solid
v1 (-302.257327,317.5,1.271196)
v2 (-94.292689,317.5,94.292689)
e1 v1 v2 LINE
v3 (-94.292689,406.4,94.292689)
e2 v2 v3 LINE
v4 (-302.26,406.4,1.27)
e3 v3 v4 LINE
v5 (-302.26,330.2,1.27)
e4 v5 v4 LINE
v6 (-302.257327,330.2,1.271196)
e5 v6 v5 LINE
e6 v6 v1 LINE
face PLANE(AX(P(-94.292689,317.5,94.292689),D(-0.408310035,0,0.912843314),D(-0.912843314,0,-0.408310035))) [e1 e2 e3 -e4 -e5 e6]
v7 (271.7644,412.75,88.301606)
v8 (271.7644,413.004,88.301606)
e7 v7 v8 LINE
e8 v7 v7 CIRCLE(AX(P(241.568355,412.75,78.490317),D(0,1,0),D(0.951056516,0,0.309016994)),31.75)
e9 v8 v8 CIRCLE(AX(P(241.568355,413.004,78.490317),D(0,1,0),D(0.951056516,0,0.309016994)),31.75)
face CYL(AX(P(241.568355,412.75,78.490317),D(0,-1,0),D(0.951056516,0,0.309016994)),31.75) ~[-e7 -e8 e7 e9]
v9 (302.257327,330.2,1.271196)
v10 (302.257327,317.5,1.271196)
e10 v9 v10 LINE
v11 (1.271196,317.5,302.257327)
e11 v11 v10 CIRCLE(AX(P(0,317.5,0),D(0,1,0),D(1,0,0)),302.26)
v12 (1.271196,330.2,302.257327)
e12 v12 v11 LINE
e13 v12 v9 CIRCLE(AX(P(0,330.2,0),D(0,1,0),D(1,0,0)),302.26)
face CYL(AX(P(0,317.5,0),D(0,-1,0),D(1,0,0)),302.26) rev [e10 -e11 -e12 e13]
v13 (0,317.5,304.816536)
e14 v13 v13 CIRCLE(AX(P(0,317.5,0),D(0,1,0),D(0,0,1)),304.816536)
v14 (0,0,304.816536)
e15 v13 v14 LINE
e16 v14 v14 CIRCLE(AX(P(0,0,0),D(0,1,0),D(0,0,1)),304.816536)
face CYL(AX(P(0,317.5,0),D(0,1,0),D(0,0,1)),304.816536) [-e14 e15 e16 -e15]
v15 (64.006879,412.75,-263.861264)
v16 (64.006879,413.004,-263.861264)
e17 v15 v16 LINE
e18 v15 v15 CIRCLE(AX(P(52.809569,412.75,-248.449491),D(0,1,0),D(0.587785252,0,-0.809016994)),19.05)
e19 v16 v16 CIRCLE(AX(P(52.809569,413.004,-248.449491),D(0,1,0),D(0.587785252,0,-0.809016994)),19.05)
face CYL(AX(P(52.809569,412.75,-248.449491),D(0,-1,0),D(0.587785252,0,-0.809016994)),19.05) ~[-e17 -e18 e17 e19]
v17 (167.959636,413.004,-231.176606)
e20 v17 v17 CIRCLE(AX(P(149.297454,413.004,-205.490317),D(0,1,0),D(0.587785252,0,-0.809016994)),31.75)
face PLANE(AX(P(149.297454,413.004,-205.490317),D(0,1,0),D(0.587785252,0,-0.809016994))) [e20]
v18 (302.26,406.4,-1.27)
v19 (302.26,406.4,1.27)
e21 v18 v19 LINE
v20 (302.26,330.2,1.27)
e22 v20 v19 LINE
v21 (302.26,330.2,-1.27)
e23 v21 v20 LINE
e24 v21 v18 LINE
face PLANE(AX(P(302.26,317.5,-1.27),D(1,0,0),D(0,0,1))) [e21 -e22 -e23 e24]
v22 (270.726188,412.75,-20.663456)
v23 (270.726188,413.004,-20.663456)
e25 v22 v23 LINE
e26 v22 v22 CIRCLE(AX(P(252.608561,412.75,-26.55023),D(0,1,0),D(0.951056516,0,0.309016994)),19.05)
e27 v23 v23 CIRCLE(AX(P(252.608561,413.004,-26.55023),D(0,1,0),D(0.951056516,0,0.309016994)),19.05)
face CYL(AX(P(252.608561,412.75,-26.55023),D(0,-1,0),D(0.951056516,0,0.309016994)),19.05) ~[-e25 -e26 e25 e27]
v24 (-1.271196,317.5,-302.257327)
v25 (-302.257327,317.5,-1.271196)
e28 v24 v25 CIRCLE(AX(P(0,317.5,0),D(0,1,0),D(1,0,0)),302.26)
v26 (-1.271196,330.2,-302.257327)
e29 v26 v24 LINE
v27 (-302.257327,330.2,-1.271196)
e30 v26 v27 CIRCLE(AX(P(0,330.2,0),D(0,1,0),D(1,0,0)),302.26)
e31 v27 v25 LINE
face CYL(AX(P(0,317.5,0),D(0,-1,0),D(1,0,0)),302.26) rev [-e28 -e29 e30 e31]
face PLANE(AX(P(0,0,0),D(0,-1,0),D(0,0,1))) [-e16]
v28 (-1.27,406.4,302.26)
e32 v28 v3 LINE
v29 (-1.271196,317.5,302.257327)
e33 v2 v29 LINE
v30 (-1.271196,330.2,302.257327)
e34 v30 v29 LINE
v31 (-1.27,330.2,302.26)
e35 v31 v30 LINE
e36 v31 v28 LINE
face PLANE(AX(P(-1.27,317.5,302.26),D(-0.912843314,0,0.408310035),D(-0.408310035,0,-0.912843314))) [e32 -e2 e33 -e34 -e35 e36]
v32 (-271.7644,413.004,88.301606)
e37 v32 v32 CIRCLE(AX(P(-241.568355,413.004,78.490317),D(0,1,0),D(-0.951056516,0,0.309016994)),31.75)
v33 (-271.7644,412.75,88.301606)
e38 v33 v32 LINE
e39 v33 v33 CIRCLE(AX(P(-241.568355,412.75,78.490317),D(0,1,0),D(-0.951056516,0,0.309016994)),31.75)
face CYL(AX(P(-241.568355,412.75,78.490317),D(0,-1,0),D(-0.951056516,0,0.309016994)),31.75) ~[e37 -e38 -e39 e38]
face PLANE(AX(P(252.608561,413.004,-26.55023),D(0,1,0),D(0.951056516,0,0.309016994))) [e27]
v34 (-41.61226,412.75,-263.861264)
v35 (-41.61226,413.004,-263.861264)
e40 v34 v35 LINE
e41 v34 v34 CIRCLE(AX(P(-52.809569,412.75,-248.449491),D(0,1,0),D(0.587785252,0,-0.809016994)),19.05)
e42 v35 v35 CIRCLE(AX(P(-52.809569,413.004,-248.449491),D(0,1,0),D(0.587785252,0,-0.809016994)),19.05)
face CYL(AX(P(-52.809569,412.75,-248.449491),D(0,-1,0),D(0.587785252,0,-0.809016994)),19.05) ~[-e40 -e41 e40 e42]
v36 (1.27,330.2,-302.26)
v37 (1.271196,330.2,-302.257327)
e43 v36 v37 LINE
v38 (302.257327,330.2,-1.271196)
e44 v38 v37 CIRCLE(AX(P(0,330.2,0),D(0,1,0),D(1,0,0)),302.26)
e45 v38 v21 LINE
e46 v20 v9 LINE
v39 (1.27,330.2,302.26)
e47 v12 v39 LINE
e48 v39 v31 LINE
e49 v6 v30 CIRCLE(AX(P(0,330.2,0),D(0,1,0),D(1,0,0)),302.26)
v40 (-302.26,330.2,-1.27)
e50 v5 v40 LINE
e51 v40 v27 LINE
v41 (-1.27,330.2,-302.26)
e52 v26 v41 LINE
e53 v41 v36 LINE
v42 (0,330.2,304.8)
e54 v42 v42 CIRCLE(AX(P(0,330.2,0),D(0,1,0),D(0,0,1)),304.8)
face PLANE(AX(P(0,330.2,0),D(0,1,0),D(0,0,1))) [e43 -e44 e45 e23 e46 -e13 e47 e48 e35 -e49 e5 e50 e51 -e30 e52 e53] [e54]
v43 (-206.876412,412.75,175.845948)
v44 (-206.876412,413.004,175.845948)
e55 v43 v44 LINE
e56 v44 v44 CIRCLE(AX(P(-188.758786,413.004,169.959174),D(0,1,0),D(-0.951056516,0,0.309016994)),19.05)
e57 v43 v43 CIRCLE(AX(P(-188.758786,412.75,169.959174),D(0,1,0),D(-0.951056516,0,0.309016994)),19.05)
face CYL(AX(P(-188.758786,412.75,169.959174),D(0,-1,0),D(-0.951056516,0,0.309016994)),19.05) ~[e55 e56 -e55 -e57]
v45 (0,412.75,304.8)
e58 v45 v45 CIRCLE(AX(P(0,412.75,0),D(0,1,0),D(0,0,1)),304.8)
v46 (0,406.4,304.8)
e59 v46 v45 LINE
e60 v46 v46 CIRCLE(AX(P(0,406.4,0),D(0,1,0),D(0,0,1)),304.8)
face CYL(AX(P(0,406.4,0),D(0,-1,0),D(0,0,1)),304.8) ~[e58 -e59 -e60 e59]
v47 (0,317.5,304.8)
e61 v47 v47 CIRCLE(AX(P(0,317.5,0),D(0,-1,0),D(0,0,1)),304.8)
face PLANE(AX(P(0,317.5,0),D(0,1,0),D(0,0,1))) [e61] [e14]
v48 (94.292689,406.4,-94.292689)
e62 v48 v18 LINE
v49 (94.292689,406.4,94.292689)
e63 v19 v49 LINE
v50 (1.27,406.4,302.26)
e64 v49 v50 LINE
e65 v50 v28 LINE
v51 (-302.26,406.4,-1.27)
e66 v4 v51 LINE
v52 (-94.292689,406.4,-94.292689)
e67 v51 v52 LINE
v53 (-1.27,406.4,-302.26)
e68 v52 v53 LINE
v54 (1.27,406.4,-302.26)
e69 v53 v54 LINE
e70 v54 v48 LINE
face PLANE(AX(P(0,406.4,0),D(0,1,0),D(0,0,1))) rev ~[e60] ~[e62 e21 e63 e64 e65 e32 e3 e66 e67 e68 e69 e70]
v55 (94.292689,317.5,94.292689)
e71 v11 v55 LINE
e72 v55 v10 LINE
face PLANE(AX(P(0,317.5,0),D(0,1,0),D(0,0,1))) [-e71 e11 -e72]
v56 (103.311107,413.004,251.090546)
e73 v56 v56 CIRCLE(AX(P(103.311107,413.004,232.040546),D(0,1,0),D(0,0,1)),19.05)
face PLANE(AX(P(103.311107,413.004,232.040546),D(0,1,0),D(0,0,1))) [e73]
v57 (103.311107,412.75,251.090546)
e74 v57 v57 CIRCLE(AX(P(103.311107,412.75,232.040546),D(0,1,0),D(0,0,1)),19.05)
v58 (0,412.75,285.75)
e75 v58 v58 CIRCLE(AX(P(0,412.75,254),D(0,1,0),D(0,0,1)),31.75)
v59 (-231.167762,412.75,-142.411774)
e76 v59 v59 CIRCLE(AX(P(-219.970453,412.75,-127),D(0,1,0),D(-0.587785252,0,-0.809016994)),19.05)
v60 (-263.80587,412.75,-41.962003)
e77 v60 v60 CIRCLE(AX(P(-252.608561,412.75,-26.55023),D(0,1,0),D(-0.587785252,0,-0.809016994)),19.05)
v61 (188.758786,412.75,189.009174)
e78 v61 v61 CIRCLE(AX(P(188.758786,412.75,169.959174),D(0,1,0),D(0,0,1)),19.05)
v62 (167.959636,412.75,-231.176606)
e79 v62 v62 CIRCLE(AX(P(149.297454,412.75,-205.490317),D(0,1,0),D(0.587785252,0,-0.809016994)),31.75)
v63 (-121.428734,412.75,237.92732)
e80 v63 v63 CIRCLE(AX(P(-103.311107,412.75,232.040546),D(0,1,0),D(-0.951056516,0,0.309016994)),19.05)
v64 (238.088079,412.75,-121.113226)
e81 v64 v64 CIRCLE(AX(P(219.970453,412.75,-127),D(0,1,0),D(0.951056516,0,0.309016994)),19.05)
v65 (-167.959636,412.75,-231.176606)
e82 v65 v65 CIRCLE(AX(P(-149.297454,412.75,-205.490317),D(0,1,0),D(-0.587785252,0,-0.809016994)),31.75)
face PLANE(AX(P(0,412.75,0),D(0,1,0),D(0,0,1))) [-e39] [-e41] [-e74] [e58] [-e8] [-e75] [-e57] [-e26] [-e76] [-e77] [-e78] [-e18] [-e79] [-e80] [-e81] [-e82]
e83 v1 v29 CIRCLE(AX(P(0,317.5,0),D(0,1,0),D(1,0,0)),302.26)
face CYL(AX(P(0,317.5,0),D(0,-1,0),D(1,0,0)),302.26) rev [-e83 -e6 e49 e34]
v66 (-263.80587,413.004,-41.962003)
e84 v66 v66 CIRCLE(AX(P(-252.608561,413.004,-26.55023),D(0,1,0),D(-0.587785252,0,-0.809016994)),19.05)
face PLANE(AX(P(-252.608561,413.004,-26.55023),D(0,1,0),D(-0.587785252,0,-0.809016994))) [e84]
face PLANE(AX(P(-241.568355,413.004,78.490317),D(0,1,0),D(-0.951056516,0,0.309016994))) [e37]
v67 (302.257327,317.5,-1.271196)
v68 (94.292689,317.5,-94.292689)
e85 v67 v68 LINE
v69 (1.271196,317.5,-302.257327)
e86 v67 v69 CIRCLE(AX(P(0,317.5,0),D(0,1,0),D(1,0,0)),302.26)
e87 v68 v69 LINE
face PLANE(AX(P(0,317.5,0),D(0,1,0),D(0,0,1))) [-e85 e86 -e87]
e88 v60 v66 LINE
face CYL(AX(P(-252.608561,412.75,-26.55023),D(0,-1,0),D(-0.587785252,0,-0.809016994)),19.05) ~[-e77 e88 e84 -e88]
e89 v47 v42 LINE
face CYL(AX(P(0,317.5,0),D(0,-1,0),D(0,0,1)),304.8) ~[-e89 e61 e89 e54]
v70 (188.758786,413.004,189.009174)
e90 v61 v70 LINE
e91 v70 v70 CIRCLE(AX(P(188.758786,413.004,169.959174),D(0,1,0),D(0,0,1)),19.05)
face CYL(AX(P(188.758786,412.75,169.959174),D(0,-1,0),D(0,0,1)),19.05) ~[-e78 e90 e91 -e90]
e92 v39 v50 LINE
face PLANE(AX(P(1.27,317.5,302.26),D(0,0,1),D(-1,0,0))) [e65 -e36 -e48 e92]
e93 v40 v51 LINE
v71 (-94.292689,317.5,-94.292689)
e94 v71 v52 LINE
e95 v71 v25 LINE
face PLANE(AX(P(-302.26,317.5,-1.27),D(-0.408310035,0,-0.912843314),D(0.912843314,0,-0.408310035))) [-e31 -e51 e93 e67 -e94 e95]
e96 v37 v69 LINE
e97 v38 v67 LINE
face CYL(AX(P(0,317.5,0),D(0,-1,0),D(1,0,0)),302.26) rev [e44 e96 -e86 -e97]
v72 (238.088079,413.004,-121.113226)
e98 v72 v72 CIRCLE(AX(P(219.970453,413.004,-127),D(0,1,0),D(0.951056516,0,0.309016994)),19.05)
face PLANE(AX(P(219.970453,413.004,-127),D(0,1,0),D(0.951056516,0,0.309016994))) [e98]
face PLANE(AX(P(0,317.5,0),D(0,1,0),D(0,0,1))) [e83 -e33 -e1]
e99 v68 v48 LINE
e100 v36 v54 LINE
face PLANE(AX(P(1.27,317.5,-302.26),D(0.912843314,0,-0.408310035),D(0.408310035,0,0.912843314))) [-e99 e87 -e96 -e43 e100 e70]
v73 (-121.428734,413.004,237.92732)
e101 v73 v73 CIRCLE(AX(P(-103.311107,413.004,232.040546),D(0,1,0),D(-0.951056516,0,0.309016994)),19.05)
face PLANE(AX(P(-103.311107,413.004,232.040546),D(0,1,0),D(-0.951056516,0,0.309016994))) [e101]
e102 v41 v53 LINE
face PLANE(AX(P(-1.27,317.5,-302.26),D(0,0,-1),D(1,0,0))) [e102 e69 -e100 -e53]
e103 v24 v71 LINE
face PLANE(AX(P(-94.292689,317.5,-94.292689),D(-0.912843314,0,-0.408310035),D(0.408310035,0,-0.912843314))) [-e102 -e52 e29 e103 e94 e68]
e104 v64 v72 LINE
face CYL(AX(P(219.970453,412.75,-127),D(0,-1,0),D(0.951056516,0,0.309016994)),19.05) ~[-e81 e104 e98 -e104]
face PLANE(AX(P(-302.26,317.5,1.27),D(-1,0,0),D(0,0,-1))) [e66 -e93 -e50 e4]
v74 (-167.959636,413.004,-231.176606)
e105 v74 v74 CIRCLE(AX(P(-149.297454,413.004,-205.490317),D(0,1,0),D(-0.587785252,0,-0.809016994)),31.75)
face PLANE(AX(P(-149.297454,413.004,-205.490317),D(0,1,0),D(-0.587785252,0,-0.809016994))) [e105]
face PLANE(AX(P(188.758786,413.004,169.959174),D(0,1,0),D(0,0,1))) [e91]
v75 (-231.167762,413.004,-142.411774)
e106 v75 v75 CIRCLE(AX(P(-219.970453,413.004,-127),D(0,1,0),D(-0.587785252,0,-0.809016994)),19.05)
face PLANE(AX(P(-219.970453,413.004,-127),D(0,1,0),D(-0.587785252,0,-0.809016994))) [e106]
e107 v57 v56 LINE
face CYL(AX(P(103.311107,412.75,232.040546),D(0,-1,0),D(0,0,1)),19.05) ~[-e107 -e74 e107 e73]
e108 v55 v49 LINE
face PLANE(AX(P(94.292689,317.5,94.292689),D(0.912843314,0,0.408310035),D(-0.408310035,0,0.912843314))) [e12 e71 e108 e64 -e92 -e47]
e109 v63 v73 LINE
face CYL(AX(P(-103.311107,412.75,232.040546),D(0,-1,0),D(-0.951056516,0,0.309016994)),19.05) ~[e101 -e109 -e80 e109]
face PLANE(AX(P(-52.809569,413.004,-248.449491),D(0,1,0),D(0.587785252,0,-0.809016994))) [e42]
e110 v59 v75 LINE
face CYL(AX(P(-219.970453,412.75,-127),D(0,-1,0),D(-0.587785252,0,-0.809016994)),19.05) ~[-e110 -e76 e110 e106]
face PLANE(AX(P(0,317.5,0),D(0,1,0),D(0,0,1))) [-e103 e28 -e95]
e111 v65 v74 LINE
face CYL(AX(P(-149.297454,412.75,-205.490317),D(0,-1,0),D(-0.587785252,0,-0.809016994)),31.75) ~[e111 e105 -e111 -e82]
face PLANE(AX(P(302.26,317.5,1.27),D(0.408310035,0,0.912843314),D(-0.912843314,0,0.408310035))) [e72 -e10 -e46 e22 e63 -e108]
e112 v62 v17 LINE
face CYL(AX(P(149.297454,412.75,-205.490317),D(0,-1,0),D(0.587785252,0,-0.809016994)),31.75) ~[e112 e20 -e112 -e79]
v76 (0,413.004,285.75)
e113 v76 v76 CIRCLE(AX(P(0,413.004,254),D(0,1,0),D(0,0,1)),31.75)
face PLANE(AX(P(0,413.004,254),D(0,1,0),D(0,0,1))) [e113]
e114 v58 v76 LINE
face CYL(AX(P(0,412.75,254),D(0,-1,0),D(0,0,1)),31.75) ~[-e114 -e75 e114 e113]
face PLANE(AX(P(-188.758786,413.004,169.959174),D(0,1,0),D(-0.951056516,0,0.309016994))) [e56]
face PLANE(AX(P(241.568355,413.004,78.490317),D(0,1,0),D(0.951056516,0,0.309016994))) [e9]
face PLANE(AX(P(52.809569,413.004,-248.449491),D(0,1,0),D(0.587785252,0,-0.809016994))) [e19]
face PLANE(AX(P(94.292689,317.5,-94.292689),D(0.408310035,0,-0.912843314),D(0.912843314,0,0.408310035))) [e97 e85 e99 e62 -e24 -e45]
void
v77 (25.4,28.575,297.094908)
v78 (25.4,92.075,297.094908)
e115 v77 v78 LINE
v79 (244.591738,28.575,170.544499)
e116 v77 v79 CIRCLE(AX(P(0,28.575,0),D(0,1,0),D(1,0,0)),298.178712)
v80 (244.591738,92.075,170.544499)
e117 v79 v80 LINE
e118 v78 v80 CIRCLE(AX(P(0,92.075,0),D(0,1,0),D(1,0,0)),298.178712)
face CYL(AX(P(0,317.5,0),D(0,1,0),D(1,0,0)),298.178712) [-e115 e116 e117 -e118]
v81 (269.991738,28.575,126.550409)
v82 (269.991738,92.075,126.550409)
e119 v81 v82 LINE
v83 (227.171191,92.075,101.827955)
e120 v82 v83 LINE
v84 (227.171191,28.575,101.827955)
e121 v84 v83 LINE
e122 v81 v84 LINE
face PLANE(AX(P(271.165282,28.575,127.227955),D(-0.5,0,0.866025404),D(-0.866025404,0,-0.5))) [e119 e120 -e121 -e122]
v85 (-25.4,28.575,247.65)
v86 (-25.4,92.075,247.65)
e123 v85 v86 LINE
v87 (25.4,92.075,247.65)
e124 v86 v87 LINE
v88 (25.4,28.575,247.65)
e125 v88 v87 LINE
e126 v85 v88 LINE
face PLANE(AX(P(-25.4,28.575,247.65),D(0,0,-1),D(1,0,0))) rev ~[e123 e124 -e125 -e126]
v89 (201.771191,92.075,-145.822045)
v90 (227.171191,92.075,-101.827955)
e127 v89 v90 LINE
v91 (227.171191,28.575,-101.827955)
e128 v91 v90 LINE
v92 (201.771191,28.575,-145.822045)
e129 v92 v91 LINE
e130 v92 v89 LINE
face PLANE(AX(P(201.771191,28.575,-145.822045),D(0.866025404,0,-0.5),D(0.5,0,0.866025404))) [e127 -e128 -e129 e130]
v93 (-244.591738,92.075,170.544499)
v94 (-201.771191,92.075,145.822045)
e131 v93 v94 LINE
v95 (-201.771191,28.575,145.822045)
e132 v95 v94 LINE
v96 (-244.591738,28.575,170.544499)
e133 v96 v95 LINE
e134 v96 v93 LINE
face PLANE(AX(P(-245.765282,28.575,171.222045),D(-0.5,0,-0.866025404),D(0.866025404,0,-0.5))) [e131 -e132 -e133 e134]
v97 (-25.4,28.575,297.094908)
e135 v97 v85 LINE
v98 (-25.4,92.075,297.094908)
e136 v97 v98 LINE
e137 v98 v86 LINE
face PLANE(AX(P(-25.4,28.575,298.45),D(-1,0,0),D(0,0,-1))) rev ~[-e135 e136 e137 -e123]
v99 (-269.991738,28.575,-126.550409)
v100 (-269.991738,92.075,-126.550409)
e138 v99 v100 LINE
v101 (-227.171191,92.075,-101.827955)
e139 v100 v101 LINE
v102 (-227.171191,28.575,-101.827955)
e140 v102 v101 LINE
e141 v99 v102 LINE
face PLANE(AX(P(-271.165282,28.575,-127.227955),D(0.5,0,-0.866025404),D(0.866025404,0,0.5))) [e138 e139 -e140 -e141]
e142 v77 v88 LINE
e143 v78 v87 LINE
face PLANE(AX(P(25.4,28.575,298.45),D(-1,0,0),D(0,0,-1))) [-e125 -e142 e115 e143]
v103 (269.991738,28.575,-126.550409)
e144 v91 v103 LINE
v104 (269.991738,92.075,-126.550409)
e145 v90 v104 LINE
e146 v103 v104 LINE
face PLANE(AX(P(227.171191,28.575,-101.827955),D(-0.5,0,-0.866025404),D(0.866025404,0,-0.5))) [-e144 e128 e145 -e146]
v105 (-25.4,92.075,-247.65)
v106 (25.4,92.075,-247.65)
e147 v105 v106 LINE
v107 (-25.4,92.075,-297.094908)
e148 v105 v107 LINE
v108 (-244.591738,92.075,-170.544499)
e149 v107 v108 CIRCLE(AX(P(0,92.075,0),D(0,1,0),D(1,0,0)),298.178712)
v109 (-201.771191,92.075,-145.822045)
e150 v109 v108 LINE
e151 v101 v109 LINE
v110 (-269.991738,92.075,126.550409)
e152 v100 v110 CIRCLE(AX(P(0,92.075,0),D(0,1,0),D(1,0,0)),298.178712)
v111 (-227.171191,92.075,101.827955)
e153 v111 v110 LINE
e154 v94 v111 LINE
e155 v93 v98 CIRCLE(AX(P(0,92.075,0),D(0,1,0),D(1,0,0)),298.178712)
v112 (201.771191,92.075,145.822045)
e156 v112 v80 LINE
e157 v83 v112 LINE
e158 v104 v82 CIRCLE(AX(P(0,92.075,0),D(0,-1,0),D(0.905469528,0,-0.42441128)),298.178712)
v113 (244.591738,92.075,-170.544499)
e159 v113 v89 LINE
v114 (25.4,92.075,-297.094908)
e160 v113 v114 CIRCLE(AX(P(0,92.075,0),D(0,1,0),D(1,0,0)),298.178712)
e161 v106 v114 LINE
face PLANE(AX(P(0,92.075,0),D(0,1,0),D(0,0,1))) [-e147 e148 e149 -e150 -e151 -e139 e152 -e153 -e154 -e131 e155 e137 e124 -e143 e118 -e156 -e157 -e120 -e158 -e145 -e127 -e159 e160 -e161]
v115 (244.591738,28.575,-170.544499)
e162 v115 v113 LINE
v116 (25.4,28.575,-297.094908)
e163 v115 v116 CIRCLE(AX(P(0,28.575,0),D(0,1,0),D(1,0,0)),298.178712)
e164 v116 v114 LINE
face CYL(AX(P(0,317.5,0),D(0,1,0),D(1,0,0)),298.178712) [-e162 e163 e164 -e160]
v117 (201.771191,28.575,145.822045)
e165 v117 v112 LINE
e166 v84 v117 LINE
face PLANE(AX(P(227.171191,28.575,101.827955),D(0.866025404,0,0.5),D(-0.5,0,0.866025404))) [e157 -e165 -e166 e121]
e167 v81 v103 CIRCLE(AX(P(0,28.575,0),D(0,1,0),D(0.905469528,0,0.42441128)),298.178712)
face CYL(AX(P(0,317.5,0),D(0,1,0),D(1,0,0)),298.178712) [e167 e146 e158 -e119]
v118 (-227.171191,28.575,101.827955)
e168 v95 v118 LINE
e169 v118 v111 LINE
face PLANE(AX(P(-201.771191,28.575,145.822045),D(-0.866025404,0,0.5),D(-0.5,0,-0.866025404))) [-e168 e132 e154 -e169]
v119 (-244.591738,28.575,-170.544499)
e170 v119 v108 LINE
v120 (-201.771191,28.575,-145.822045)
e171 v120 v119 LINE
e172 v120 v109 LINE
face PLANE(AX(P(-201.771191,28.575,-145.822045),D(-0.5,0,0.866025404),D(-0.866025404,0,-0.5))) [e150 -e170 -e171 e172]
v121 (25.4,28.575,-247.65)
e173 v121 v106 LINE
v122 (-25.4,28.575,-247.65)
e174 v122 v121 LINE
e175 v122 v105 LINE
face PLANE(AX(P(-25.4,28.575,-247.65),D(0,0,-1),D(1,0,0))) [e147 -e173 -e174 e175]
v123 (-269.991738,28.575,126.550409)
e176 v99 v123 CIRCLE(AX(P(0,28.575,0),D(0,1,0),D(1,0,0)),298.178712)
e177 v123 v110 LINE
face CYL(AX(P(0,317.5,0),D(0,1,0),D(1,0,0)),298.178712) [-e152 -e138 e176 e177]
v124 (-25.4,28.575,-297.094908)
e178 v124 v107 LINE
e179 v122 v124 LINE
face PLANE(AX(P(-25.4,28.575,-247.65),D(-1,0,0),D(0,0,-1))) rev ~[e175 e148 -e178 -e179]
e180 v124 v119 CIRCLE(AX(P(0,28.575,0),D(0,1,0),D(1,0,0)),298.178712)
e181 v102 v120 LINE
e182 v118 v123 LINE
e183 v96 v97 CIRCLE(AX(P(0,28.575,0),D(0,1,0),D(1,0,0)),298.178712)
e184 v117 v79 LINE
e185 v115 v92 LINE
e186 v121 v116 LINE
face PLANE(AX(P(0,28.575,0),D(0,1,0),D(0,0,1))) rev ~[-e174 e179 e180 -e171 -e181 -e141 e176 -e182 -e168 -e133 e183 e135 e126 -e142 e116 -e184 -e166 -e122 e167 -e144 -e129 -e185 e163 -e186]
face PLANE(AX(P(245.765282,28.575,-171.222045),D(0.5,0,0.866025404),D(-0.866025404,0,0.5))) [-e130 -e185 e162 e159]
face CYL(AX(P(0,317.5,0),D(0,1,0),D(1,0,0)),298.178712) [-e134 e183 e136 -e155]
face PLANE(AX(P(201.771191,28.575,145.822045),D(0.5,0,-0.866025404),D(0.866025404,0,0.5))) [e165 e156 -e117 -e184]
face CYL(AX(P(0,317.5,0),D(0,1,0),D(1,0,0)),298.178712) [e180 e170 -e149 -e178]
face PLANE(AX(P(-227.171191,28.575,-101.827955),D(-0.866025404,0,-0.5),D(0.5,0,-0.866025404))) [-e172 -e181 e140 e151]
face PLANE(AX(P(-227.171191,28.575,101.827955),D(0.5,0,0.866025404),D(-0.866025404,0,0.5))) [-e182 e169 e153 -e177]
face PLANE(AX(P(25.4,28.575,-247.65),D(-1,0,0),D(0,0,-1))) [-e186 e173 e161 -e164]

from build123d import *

# Parameters (mm, degrees)
SKETCH1_R            = 304.8
BOSS_EXTRUDE1_DEPTH  = 28.575
SKETCH2_W            = 50.8
SKETCH2_H            = 50.8
BOSS_EXTRUDE2_DEPTH  = 63.5
SKETCH3_R            = 304.8
BOSS_EXTRUDE3_DEPTH  = 225.425
BOSS_EXTRUDE8_DEPTH  = 88.9
SKETCH10_R           = 304.8
BOSS_EXTRUDE11_DEPTH = 6.35
SKETCH11_R           = 304.8
SKETCH11_R_2         = 302.26
BOSS_EXTRUDE12_DEPTH = 12.7
BOSS_EXTRUDE10_REACH = 537.362
SKETCH9_R            = 304.81653601
SKETCH9_R_2          = 298.178711987
SKETCH12_R           = 31.75
SKETCH12_R_2         = 19.05
BOSS_EXTRUDE13_DEPTH = 0.254
CIRPATTERN1_COUNT    = 5


with BuildPart() as part:
    # Sketch1 → Boss-Extrude1 (new body)
    with BuildSketch(Plane(origin=(0, 0, 0), x_dir=(1, 0, 0), z_dir=(0, 1, 0))):
        with Locations(Location((0, 0, 0), (0, 0, 270))):
            Circle(SKETCH1_R)
    extrude(amount=BOSS_EXTRUDE1_DEPTH)

    # Sketch2 → Boss-Extrude2 (add)
    with BuildSketch(Plane(origin=(0, 28.575, 0), x_dir=(1, 0, 0), z_dir=(0, 1, 0))):
        Polygon((245.765281759, 171.222045256), (201.771191247, 145.822045256), (227.171191247, 101.827954744), (271.165281759, 127.227954744), align=None)
        with Locations((0, 273.05)):
            Rectangle(SKETCH2_W, SKETCH2_H)
        Polygon((271.165281759, -127.227954744), (227.171191247, -101.827954744), (201.771191247, -145.822045256), (245.765281759, -171.222045256), align=None)
        with Locations((0, -273.05)):
            Rectangle(SKETCH2_W, SKETCH2_H)
        Polygon((-245.765281759, -171.222045256), (-201.771191247, -145.822045256), (-227.171191247, -101.827954744), (-271.165281759, -127.227954744), align=None)
        Polygon((-271.165281759, 127.227954744), (-227.171191247, 101.827954744), (-201.771191247, 145.822045256), (-245.765281759, 171.222045256), align=None)
    extrude(amount=BOSS_EXTRUDE2_DEPTH)

    # Sketch3 → Boss-Extrude3 (add)
    with BuildSketch(Plane(origin=(0, 92.075, 0), x_dir=(1, 0, 0), z_dir=(0, 1, 0))):
        with Locations(Location((0, 0, 0), (0, 0, 270))):
            Circle(SKETCH3_R)
    extrude(amount=BOSS_EXTRUDE3_DEPTH)

    # Sketch6 → Boss-Extrude8 (add)
    with BuildSketch(Plane(origin=(0, 317.5, 0), x_dir=(1, 0, 0), z_dir=(0, 1, 0))):
        Polygon((94.292689271, 94.292689271), (302.26, 1.27), (302.26, -1.27), (94.292689271, -94.292689271), (1.27, -302.26), (-1.27, -302.26), (-94.292689271, -94.292689271), (-302.26, -1.27), (-302.26, 1.27), (-94.292689271, 94.292689271), (-1.27, 302.26), (1.27, 302.26), align=None)
    extrude(amount=BOSS_EXTRUDE8_DEPTH)

    # Sketch10 → Boss-Extrude11 (add)
    with BuildSketch(Plane(origin=(0, 406.4, 0), x_dir=(1, 0, 0), z_dir=(0, 1, 0))):
        with Locations(Location((0, 0, 0), (0, 0, 270))):
            Circle(SKETCH10_R)
    extrude(amount=BOSS_EXTRUDE11_DEPTH)

    # Sketch11 → Boss-Extrude12 (add)
    with BuildSketch(Plane(origin=(0, 317.5, 0), x_dir=(1, 0, 0), z_dir=(0, 1, 0))):
        with Locations(Location((0, 0, 0), (0, 0, 270))):
            Circle(SKETCH11_R)
        Circle(SKETCH11_R_2, mode=Mode.SUBTRACT)
    extrude(amount=BOSS_EXTRUDE12_DEPTH)

    # Boss-Extrude10: up to this face of the body (flat: up to its plane)
    boss_extrude10_end = Plane(part.part.faces().sort_by_distance((0, 0, 0))[0])
    # Sketch9 → Boss-Extrude10 (add, up to the picked face)
    with BuildSketch(Plane(origin=(0, 317.5, 0), x_dir=(1, 0, 0), z_dir=(0, 1, 0)), mode=Mode.PRIVATE) as boss_extrude10_sk1:
        with Locations(Location((0, 0, 0), (0, 0, 270))):
            Circle(SKETCH9_R)
        Circle(SKETCH9_R_2, mode=Mode.SUBTRACT)
    boss_extrude10_tool1 = split(extrude(boss_extrude10_sk1.sketch, amount=-BOSS_EXTRUDE10_REACH, mode=Mode.PRIVATE), bisect_by=boss_extrude10_end, keep=Keep.BOTH, mode=Mode.PRIVATE)
    add(boss_extrude10_tool1.solids().sort_by(Axis((0, 317.5, -303.954385), (0, -1, 0)))[0])

    # Sketch12 → Boss-Extrude13 (add)
    with BuildSketch(Plane(origin=(0, 412.75, 0), x_dir=(1, 0, 0), z_dir=(0, 1, 0))):
        with Locations(Location((0, -254, 0), (0, 0, 270))):
            Circle(SKETCH12_R)
        with Locations(Location((103.311107341, -232.040546241, 0), (0, 0, 270))):
            Circle(SKETCH12_R_2)
        with Locations(Location((188.758785671, -169.959174015, 0), (0, 0, 270))):
            Circle(SKETCH12_R_2)
    boss_extrude13 = extrude(amount=BOSS_EXTRUDE13_DEPTH)

    # CirPattern1: Boss-Extrude13 ×5 about axis
    cirpattern1_axis = Axis((0, 0, 0), (0, 1, 0))
    for i in range(1, CIRPATTERN1_COUNT):
        add(boss_extrude13.rotate(cirpattern1_axis, i * 360 / CIRPATTERN1_COUNT))


solid = part.part
